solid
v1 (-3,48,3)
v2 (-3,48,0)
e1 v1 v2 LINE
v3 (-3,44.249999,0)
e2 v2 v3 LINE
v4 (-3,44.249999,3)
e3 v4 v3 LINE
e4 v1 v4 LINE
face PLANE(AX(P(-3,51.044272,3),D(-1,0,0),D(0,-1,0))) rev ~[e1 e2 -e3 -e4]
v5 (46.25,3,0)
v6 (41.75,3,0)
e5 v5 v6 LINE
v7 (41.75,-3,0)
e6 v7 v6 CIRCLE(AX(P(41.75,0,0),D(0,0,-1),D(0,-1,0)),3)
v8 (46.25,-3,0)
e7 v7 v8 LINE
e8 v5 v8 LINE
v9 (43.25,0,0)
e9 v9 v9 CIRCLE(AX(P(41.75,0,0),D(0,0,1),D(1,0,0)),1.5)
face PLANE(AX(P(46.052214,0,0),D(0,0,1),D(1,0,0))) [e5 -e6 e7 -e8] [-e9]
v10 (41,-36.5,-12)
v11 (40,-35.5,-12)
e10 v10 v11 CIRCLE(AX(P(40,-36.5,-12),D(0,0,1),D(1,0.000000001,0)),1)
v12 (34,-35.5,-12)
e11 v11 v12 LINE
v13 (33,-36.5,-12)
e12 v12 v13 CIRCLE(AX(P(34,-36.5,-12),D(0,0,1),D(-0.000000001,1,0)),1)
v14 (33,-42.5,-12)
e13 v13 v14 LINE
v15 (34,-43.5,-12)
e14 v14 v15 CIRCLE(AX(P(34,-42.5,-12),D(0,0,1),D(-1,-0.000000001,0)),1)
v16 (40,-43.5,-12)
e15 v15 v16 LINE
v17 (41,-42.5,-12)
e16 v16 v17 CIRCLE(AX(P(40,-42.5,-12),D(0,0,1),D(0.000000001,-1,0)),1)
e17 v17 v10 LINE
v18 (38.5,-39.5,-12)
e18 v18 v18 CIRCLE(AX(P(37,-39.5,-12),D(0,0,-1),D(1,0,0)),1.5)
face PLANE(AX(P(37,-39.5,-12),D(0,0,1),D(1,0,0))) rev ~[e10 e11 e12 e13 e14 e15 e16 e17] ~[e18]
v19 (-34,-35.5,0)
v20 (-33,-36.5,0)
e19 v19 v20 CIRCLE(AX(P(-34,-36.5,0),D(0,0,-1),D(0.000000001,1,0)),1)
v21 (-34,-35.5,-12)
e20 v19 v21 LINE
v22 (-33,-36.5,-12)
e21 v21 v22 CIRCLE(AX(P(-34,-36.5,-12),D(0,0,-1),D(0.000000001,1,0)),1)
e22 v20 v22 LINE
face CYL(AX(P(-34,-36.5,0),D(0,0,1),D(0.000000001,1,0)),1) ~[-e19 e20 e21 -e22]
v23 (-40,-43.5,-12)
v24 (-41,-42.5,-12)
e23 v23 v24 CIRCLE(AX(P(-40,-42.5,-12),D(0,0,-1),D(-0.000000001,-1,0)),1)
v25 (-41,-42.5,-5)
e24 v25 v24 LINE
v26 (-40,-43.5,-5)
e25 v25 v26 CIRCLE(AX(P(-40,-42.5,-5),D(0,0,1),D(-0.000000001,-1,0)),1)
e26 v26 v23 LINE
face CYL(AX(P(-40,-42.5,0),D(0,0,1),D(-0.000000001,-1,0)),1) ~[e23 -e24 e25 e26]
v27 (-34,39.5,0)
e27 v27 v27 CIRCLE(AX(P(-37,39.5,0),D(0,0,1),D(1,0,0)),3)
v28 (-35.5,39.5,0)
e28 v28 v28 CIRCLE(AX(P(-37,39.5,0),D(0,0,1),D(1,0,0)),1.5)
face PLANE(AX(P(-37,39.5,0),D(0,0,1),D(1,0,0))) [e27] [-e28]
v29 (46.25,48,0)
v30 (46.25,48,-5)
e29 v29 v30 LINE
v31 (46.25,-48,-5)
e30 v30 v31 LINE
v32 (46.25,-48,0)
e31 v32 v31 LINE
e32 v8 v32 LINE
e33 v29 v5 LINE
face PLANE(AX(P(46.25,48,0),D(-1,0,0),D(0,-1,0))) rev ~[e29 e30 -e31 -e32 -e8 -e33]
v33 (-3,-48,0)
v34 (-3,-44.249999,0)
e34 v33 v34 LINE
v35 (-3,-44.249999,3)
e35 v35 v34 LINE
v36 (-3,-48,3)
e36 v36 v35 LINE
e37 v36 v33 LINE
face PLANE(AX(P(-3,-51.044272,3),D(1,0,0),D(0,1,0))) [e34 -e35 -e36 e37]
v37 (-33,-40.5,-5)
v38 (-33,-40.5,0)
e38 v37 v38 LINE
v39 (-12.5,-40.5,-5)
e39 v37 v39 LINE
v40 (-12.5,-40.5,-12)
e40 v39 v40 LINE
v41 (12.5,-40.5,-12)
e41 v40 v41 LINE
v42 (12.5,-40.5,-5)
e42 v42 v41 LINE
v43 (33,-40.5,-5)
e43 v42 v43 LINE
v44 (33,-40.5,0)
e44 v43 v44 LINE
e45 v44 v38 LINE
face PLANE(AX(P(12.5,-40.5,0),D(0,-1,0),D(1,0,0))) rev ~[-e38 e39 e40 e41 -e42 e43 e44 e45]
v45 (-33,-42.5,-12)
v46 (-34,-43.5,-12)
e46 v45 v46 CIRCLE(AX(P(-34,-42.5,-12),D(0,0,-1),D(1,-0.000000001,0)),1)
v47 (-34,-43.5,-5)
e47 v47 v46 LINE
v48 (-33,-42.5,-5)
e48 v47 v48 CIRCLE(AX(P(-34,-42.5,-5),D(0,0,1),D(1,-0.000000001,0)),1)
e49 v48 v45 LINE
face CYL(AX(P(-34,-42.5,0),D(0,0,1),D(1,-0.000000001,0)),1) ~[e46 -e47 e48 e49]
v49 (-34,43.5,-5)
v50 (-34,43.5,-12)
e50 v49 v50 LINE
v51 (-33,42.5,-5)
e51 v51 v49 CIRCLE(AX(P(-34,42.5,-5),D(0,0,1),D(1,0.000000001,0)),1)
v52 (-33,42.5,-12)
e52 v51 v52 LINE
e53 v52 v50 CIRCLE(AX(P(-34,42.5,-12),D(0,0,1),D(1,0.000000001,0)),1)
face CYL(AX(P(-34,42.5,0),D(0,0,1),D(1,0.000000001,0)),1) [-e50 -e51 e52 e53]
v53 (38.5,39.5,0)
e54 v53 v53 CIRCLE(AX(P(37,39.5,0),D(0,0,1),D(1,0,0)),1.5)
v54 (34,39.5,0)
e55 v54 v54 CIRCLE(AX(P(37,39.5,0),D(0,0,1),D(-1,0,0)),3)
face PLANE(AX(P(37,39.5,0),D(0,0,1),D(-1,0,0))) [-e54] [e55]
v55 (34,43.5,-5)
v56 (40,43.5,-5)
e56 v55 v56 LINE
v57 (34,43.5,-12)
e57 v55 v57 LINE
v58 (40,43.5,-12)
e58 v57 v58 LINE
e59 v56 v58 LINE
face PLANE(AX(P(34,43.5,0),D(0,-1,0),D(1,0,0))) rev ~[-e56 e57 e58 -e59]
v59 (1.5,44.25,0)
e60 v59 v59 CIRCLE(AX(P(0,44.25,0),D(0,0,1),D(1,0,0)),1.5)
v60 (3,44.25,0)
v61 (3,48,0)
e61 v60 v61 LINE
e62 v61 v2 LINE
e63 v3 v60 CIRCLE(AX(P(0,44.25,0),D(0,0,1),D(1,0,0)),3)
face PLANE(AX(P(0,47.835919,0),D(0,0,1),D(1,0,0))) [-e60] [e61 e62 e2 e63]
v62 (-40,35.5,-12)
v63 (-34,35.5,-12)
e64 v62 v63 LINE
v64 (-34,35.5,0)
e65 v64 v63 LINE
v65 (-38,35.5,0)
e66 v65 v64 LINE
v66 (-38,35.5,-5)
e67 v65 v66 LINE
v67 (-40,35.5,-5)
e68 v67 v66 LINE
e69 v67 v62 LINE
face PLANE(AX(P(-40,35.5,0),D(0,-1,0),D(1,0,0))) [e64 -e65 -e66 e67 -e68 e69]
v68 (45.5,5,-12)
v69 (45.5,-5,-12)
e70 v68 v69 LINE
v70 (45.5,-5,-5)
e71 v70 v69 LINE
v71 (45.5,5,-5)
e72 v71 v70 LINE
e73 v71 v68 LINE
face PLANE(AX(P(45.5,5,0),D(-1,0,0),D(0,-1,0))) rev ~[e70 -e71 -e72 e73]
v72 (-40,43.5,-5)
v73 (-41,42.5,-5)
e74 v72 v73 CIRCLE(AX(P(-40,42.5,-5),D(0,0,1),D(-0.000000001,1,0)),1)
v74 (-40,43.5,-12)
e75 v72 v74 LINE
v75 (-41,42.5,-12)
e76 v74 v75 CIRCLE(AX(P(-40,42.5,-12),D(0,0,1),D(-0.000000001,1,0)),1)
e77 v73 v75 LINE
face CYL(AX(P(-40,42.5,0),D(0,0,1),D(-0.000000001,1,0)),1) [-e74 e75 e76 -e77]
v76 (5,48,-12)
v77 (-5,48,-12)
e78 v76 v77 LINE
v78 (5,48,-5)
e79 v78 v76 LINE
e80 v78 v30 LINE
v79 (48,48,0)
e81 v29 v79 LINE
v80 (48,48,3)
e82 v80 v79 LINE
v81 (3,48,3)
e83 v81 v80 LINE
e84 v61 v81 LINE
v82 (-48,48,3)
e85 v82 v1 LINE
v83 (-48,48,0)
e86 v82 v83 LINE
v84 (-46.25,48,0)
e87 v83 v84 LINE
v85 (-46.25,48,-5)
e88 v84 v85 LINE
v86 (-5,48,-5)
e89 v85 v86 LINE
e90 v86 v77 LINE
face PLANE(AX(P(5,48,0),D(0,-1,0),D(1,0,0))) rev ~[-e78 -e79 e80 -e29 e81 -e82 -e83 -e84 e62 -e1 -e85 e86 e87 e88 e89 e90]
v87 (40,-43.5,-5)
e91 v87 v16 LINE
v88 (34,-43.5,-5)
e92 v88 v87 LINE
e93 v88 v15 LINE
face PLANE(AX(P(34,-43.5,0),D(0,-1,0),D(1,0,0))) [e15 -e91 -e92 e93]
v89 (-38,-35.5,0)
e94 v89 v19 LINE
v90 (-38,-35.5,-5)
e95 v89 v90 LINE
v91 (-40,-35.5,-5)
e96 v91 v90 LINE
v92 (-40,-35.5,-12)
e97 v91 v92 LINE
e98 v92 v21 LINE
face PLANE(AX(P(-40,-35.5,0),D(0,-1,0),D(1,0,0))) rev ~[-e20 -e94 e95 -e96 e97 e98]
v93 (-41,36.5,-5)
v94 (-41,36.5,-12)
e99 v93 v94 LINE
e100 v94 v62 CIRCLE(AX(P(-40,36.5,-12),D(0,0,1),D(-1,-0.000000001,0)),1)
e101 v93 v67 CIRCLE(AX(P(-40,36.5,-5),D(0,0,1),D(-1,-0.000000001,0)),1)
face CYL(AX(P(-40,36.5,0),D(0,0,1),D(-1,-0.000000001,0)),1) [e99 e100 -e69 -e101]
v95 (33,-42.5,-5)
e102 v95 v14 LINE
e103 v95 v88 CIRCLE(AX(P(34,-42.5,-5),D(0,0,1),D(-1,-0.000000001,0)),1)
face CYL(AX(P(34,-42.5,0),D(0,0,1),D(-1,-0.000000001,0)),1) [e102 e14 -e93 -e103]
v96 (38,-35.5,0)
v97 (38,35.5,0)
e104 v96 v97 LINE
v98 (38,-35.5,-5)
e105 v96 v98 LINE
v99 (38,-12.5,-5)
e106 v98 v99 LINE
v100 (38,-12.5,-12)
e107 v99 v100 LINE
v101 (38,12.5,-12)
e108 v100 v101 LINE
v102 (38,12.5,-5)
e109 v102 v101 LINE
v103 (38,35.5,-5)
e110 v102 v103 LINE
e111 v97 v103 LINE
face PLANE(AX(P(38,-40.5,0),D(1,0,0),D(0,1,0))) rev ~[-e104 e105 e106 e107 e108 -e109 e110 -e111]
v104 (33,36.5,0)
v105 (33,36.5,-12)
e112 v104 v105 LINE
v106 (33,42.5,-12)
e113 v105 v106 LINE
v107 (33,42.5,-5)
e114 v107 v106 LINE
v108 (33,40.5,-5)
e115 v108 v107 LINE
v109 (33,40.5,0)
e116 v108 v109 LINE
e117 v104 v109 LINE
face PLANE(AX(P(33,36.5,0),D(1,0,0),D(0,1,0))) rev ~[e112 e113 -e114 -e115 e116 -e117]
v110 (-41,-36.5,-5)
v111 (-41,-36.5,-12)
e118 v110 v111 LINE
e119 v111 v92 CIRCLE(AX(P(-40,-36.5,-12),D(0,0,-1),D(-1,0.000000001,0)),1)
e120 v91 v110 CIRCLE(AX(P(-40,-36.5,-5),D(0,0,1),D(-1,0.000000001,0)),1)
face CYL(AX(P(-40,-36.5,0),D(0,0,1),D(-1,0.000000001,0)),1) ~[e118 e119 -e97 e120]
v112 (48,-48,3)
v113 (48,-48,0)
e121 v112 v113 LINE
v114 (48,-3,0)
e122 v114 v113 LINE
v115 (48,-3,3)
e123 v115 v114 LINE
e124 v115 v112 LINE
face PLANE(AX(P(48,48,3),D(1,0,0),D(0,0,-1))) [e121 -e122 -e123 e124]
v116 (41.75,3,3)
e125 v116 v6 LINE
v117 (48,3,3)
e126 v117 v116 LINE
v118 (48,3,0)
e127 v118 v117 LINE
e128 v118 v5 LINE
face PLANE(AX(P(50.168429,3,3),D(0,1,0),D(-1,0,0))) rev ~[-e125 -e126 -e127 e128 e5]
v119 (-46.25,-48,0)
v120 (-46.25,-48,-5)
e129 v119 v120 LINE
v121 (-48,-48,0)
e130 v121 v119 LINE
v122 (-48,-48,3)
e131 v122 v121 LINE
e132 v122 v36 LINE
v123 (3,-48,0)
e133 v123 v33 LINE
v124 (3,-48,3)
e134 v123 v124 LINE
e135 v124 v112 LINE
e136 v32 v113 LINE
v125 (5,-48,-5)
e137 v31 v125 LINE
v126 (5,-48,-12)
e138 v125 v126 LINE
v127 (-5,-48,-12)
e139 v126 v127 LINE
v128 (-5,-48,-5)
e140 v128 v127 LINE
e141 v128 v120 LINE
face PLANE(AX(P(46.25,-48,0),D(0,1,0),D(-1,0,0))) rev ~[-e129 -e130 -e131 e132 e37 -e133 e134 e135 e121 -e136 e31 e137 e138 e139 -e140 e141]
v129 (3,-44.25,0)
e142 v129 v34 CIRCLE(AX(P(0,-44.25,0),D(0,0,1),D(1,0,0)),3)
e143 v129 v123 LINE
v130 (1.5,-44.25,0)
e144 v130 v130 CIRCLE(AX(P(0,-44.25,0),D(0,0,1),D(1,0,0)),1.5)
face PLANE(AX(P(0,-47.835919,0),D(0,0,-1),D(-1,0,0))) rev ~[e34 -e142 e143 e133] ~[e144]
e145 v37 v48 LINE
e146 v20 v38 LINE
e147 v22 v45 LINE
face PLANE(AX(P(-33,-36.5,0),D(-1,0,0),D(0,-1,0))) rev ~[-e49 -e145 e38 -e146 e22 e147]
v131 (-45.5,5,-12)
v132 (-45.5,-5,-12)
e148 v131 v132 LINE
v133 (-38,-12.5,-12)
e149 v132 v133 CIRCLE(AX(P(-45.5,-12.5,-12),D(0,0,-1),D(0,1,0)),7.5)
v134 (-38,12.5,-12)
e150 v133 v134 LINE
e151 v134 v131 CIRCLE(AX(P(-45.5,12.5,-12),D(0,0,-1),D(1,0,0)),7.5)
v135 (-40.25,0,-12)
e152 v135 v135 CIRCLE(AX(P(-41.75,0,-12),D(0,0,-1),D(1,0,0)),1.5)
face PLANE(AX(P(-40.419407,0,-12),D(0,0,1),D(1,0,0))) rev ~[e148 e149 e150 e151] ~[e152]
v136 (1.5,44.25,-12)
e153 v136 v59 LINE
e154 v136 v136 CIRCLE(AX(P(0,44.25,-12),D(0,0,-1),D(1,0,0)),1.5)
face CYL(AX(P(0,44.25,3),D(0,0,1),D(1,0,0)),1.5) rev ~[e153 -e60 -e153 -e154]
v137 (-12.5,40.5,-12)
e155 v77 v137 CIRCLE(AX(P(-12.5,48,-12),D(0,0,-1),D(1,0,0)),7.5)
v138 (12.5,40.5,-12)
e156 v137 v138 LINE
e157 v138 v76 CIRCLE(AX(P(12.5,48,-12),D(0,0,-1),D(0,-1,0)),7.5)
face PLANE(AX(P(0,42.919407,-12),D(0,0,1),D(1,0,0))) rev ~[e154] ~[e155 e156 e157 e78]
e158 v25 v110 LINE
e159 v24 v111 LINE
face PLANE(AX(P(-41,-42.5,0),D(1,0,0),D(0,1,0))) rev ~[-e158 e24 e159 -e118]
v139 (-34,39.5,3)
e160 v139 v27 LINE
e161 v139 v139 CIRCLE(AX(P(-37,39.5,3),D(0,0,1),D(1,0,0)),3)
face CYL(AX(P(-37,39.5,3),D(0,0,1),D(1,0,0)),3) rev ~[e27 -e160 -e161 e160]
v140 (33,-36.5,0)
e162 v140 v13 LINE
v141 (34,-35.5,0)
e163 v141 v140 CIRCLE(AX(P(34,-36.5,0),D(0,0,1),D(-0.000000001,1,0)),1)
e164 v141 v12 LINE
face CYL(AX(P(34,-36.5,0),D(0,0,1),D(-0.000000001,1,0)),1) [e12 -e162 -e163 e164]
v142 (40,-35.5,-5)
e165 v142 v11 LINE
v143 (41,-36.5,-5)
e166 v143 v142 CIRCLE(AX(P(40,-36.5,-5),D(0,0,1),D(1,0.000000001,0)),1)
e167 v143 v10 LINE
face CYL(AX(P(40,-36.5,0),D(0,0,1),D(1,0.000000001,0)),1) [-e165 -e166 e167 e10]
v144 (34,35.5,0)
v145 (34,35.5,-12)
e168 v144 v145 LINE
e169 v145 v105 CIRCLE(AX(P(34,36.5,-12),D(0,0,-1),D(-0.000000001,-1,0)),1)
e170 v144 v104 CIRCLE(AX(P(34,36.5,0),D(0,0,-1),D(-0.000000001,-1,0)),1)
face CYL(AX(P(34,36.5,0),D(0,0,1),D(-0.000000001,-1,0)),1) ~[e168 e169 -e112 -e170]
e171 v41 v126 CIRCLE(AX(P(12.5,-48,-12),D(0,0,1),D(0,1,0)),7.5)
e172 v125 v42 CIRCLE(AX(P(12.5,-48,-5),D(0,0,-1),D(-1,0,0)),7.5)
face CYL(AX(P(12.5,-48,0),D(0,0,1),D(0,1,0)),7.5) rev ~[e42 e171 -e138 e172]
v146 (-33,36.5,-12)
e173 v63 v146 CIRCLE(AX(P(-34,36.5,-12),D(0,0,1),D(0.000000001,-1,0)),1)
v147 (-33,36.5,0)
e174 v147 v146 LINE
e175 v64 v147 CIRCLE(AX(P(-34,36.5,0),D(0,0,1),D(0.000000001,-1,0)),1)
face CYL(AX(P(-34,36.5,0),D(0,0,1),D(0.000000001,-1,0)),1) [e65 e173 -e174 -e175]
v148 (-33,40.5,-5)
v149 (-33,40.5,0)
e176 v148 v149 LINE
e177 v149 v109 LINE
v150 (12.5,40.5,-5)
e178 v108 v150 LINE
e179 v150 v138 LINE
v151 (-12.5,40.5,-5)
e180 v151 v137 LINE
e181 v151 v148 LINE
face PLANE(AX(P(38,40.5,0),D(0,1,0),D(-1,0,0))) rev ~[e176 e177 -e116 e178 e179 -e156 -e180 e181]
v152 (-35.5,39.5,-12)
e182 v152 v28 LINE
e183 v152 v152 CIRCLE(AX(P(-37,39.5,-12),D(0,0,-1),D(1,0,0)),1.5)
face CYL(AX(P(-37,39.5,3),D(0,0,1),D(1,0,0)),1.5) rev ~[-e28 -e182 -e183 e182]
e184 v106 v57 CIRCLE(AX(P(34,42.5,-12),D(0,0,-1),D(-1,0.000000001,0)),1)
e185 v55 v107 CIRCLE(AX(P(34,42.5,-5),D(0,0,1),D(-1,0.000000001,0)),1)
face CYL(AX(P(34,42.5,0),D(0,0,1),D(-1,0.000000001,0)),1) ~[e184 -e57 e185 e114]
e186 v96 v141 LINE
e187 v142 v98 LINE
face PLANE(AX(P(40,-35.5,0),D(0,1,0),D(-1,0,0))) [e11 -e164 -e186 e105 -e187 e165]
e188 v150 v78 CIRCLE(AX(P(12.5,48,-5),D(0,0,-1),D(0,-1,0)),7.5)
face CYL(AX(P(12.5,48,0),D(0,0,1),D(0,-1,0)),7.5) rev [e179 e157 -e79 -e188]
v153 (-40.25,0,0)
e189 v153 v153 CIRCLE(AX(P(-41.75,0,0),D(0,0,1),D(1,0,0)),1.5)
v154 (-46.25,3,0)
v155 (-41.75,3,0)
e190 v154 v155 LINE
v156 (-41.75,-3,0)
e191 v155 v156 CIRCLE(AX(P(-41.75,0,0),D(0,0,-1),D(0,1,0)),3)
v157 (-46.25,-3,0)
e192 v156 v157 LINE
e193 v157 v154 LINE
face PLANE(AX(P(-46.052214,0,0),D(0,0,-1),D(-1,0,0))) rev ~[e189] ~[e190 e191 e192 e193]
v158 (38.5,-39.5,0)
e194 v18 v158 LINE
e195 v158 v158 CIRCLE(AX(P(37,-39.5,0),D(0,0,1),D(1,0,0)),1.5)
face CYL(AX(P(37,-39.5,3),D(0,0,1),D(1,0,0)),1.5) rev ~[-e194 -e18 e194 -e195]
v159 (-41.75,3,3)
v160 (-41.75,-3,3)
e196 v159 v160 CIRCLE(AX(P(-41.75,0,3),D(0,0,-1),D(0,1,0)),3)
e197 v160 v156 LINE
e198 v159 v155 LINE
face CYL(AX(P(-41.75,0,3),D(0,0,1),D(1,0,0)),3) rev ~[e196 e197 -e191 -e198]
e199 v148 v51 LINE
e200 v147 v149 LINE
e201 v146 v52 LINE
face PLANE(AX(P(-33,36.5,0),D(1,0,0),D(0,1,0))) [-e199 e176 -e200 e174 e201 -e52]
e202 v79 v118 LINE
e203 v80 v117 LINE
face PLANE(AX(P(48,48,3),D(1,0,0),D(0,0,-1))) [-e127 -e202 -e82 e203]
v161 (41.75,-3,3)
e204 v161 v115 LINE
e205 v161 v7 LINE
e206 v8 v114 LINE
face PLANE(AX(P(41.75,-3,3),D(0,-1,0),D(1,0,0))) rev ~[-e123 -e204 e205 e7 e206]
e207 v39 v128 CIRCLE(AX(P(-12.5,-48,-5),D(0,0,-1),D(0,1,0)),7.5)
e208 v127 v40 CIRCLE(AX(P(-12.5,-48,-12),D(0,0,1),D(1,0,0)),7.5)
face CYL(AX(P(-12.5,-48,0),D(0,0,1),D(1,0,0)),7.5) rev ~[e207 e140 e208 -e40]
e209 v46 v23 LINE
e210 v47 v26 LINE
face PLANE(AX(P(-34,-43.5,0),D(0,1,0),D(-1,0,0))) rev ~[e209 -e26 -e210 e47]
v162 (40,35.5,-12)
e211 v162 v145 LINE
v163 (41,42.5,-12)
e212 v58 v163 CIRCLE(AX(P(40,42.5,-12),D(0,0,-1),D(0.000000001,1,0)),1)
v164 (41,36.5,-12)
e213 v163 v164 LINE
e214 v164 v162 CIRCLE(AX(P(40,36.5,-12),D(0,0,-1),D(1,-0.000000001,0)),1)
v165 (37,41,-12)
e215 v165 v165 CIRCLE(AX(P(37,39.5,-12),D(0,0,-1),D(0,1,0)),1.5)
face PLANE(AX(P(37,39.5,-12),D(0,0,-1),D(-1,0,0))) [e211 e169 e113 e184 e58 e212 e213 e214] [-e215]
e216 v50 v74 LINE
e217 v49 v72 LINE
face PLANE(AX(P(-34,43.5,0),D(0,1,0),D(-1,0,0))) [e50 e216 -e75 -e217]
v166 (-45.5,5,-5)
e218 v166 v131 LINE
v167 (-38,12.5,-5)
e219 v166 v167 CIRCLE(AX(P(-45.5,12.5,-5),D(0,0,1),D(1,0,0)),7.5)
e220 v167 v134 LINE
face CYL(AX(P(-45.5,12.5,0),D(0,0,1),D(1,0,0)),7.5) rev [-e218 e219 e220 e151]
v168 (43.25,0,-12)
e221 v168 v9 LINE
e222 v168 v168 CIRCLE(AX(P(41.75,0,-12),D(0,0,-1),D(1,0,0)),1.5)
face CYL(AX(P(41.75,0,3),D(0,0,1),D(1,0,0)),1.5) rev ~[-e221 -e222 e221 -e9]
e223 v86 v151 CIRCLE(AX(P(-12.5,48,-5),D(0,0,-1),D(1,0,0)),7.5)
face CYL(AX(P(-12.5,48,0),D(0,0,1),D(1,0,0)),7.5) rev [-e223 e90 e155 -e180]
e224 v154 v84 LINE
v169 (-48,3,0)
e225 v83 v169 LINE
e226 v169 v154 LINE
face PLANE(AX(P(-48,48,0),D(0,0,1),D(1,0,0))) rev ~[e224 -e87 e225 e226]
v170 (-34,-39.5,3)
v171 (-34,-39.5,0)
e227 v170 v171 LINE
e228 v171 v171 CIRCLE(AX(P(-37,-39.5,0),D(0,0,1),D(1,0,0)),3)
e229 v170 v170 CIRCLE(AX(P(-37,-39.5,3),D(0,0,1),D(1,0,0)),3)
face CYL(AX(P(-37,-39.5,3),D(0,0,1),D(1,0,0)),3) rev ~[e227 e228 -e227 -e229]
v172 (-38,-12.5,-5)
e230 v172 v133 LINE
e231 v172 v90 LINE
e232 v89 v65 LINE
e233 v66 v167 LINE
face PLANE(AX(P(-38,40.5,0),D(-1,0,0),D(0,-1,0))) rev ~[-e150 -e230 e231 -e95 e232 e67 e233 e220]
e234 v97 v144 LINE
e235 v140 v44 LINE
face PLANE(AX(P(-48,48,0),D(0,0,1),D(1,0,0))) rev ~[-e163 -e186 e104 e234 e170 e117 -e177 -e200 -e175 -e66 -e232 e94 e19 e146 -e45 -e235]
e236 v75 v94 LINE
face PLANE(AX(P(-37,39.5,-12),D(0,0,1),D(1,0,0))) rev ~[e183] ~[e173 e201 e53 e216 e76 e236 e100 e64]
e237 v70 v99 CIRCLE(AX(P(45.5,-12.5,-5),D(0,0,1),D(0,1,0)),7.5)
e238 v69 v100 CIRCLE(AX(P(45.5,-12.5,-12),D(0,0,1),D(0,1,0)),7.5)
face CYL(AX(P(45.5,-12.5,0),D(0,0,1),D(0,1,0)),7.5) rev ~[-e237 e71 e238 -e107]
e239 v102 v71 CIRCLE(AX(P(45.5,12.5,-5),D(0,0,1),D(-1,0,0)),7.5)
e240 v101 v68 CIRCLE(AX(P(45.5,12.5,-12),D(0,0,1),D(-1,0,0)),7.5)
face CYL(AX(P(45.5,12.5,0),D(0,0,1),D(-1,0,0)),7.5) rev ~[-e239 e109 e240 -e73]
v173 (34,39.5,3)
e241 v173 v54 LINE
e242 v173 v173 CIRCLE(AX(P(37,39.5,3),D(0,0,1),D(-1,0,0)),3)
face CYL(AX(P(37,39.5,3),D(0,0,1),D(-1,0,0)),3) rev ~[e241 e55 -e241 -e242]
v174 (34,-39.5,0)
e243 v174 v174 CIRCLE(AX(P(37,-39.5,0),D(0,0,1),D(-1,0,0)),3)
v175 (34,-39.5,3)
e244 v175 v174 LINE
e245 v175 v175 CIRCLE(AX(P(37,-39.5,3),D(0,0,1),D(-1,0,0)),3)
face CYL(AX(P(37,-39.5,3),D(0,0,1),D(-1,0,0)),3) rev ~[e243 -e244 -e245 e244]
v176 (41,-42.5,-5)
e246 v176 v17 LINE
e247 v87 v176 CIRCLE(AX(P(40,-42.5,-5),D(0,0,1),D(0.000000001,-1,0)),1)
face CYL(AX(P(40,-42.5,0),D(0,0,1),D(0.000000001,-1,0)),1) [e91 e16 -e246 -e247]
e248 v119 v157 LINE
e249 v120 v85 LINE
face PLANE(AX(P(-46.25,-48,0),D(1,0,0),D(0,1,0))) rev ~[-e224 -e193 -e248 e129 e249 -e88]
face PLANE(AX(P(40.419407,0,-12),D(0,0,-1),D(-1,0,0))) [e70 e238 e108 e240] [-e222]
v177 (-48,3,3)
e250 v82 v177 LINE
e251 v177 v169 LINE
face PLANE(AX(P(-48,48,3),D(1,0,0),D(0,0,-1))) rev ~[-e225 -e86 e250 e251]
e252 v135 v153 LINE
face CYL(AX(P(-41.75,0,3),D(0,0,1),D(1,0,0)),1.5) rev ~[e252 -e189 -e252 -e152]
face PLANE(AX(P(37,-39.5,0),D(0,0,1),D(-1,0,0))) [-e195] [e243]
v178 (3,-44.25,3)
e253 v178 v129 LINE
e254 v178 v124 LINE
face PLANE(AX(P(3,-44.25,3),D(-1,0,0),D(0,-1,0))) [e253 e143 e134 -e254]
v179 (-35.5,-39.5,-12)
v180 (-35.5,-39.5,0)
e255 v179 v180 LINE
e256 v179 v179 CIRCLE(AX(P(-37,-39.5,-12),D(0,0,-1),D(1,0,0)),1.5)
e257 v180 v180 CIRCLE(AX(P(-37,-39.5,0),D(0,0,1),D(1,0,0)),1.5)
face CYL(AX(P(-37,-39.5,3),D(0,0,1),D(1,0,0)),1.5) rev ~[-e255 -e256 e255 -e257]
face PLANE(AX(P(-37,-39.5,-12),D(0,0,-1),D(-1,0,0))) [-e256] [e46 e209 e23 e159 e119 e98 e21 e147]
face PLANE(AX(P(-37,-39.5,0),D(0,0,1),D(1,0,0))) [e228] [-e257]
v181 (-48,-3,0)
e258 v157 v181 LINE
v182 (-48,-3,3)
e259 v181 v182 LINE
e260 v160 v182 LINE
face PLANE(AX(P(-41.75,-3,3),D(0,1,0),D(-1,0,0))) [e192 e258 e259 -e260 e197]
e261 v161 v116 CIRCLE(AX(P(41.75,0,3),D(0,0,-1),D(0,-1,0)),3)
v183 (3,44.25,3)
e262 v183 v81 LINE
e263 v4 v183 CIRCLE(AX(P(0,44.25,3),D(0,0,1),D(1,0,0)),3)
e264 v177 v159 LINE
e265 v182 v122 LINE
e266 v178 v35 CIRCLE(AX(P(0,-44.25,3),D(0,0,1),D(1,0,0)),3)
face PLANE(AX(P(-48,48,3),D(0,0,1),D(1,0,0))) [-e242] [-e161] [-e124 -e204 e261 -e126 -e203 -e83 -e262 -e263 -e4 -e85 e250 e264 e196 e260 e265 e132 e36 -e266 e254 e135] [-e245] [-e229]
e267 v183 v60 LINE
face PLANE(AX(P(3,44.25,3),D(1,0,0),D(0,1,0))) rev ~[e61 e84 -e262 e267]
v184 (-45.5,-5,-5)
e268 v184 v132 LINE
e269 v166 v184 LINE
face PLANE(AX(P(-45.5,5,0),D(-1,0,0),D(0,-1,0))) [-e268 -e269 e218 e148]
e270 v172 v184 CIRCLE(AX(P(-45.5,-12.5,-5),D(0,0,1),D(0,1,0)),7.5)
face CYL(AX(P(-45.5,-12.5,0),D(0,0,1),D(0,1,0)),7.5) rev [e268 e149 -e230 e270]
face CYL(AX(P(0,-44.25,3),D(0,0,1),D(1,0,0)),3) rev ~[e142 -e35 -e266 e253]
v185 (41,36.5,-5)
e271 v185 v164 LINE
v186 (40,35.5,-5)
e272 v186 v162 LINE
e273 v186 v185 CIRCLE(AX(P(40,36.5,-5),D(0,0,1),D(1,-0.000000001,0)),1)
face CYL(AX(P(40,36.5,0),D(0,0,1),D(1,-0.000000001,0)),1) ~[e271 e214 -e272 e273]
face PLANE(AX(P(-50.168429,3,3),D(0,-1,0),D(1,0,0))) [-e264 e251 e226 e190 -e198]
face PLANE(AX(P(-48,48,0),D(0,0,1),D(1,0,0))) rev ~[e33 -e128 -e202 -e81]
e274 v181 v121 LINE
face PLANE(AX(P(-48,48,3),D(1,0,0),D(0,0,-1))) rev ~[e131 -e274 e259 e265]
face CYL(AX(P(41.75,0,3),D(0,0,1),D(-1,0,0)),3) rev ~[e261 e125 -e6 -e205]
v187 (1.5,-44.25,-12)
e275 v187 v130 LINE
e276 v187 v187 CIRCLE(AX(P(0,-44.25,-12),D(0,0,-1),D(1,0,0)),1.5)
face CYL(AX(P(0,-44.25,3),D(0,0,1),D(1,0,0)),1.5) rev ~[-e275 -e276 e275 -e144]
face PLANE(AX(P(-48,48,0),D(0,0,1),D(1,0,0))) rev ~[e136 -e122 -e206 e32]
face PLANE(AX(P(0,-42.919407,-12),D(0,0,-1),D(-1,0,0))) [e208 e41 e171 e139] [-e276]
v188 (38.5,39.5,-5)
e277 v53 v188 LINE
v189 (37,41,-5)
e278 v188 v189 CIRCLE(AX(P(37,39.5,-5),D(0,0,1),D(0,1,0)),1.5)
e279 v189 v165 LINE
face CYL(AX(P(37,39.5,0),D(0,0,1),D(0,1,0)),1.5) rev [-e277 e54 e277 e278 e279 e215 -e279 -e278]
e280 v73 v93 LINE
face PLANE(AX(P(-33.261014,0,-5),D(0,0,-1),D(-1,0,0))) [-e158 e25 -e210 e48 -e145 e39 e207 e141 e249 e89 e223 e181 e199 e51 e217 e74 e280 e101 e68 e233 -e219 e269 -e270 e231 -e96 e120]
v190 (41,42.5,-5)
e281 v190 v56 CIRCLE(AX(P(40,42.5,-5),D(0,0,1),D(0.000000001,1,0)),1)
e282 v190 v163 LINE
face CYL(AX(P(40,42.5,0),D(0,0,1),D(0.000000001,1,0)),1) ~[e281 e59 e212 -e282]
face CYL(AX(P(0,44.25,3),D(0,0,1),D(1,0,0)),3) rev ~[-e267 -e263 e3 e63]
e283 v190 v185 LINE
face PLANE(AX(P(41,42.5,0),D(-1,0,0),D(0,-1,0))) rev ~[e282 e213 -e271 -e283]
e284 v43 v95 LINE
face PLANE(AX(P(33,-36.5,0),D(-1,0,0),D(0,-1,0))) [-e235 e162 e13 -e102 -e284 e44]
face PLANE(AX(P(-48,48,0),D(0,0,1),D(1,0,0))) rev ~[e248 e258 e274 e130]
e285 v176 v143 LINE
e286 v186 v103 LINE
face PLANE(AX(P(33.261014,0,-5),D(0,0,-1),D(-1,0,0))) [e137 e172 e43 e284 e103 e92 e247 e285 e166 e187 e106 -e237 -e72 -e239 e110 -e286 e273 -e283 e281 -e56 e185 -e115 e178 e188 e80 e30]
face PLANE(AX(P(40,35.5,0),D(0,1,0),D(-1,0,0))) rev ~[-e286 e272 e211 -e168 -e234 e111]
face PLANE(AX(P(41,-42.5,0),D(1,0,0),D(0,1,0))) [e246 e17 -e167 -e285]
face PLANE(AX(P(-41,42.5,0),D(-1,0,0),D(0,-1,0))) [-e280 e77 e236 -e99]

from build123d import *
from build123d.topology import SkipClean

# Parameters (mm, degrees)
SKETCH3_W           = 96
SKETCH3_H           = 3
BOSS_EXTRUDE1_DEPTH = 96
SKETCH4_R           = 1.5
BOSS_EXTRUDE2_DEPTH = 12
SKETCH5_R           = 1.5
BOSS_EXTRUDE3_DEPTH = 12
BOSS_EXTRUDE4_DEPTH = 5
SKETCH10_R          = 1.5
CUT_EXTRUDE1_DEPTH  = 70.519781358
SKETCH11_R          = 3
CUT_EXTRUDE2_DEPTH  = 3
CUT_EXTRUDE3_DEPTH  = 3


with BuildPart() as part:
    # Sketch3 → Boss-Extrude1 (new body)
    with BuildSketch(Plane(origin=(0, 48, 0), x_dir=(1, 0, 0), z_dir=(0, 1, 0))):
        with Locations((0, -1.5)):
            Rectangle(SKETCH3_W, SKETCH3_H)
    extrude(amount=-BOSS_EXTRUDE1_DEPTH)

    # Sketch4 → Boss-Extrude2 (add)
    # profile 1 of 4: a face of its own
    with BuildSketch(Plane(origin=(0, 0, 0), x_dir=(-1, 0, 0), z_dir=(0, 0, -1))):
        with BuildLine():
            Line((38, -12.5), (38, 12.5))
            ThreePointArc((38, 12.5), (40.196699141, 7.196699141), (45.5, 5))
            Line((45.5, 5), (45.5, -5))
            ThreePointArc((45.5, -5), (40.196699141, -7.196699141), (38, -12.5))
        make_face()
        with Locations(Location((41.75, 0, 0), (0, 0, 180))):
            Circle(SKETCH4_R, mode=Mode.SUBTRACT)
    # profile 2 of 4: a face of its own
    with BuildSketch(Plane(origin=(0, 0, 0), x_dir=(-1, 0, 0), z_dir=(0, 0, -1))):
        with BuildLine():
            Line((12.5, 40.5), (-12.5, 40.5))
            ThreePointArc((-12.5, 40.5), (-7.196699141, 42.696699141), (-5, 48))
            Line((-5, 48), (5, 48))
            ThreePointArc((5, 48), (7.196699141, 42.696699141), (12.5, 40.5))
        make_face()
        with Locations(Location((0, 44.25, 0), (0, 0, 180))):
            Circle(SKETCH4_R, mode=Mode.SUBTRACT)
    # profile 3 of 4: a face of its own
    with BuildSketch(Plane(origin=(0, 0, 0), x_dir=(-1, 0, 0), z_dir=(0, 0, -1))):
        with BuildLine():
            Line((-5, -48), (5, -48))
            ThreePointArc((5, -48), (7.196699141, -42.696699141), (12.5, -40.5))
            Line((12.5, -40.5), (-12.5, -40.5))
            ThreePointArc((-12.5, -40.5), (-7.196699141, -42.696699141), (-5, -48))
        make_face()
        with Locations(Location((0, -44.25, 0), (0, 0, 180))):
            Circle(SKETCH4_R, mode=Mode.SUBTRACT)
    # profile 4 of 4: a face of its own
    with BuildSketch(Plane(origin=(0, 0, 0), x_dir=(-1, 0, 0), z_dir=(0, 0, -1))):
        with BuildLine():
            Line((-45.5, 5), (-45.5, -5))
            ThreePointArc((-45.5, -5), (-40.196699141, -7.196699141), (-38, -12.5))
            Line((-38, -12.5), (-38, 12.5))
            ThreePointArc((-38, 12.5), (-40.196699141, 7.196699141), (-45.5, 5))
        make_face()
        with Locations(Location((-41.75, 0, 0), (0, 0, 180))):
            Circle(SKETCH4_R, mode=Mode.SUBTRACT)
    extrude(amount=BOSS_EXTRUDE2_DEPTH)

    # Sketch5 → Boss-Extrude3 (add)
    # profile 1 of 4: a face of its own
    with BuildSketch(Plane(origin=(0, 0, 0), x_dir=(-1, 0, 0), z_dir=(0, 0, -1))):
        with BuildLine():
            Line((-40, 35.5), (-34, 35.5))
            ThreePointArc((-34, 35.5), (-33.292893219, 35.792893219), (-33, 36.5))
            Line((-33, 36.5), (-33, 42.5))
            ThreePointArc((-33, 42.5), (-33.292893219, 43.207106781), (-34, 43.5))
            Line((-34, 43.5), (-40, 43.5))
            ThreePointArc((-40, 43.5), (-40.707106781, 43.207106781), (-41, 42.5))
            Line((-41, 42.5), (-41, 36.5))
            ThreePointArc((-41, 36.5), (-40.707106781, 35.792893219), (-40, 35.5))
        make_face()
        with Locations(Location((-37, 39.5, 0), (0, 0, 90))):
            Circle(SKETCH5_R, mode=Mode.SUBTRACT)
    # profile 2 of 4: a face of its own
    with BuildSketch(Plane(origin=(0, 0, 0), x_dir=(-1, 0, 0), z_dir=(0, 0, -1))):
        with BuildLine():
            Line((33, 36.5), (33, 42.5))
            ThreePointArc((33, 42.5), (33.292893219, 43.207106781), (34, 43.5))
            Line((34, 43.5), (40, 43.5))
            ThreePointArc((40, 43.5), (40.707106781, 43.207106781), (41, 42.5))
            Line((41, 42.5), (41, 36.5))
            ThreePointArc((41, 36.5), (40.707106781, 35.792893219), (40, 35.5))
            Line((40, 35.5), (34, 35.5))
            ThreePointArc((34, 35.5), (33.292893219, 35.792893219), (33, 36.5))
        make_face()
        with Locations(Location((37, 39.5, 0), (0, 0, 90))):
            Circle(SKETCH5_R, mode=Mode.SUBTRACT)
    # profile 3 of 4: a face of its own
    with BuildSketch(Plane(origin=(0, 0, 0), x_dir=(-1, 0, 0), z_dir=(0, 0, -1))):
        with BuildLine():
            Line((-33, -36.5), (-33, -42.5))
            ThreePointArc((-33, -42.5), (-33.292893219, -43.207106781), (-34, -43.5))
            Line((-34, -43.5), (-40, -43.5))
            ThreePointArc((-40, -43.5), (-40.707106781, -43.207106781), (-41, -42.5))
            Line((-41, -42.5), (-41, -36.5))
            ThreePointArc((-41, -36.5), (-40.707106781, -35.792893219), (-40, -35.5))
            Line((-40, -35.5), (-34, -35.5))
            ThreePointArc((-34, -35.5), (-33.292893219, -35.792893219), (-33, -36.5))
        make_face()
        with Locations(Location((-37, -39.5, 0), (0, 0, 90))):
            Circle(SKETCH5_R, mode=Mode.SUBTRACT)
    # profile 4 of 4: a face of its own
    with BuildSketch(Plane(origin=(0, 0, 0), x_dir=(-1, 0, 0), z_dir=(0, 0, -1))):
        with BuildLine():
            Line((40, -35.5), (34, -35.5))
            ThreePointArc((34, -35.5), (33.292893219, -35.792893219), (33, -36.5))
            Line((33, -36.5), (33, -42.5))
            ThreePointArc((33, -42.5), (33.292893219, -43.207106781), (34, -43.5))
            Line((34, -43.5), (40, -43.5))
            ThreePointArc((40, -43.5), (40.707106781, -43.207106781), (41, -42.5))
            Line((41, -42.5), (41, -36.5))
            ThreePointArc((41, -36.5), (40.707106781, -35.792893219), (40, -35.5))
        make_face()
        with Locations(Location((37, -39.5, 0), (0, 0, 90))):
            Circle(SKETCH5_R, mode=Mode.SUBTRACT)
    extrude(amount=BOSS_EXTRUDE3_DEPTH)

    # Sketch8 → Boss-Extrude4 (add)
    with BuildSketch(Plane(origin=(0, 0, 0), x_dir=(-1, 0, 0), z_dir=(0, 0, -1))):
        with BuildLine():
            Line((-38, 40.5), (-12.5, 40.5))
            ThreePointArc((-12.5, 40.5), (-7.196699141, 42.696699141), (-5, 48))
            Line((-5, 48), (-46.25, 48))
            Line((-46.25, 48), (-46.25, -48))
            Line((-46.25, -48), (-5, -48))
            ThreePointArc((-5, -48), (-7.196699141, -42.696699141), (-12.5, -40.5))
            Line((-12.5, -40.5), (-38, -40.5))
            Line((-38, -40.5), (-38, 40.5))
        make_face()
        with BuildLine():
            Line((12.5, 40.5), (38, 40.5))
            Line((38, 40.5), (38, -40.5))
            Line((38, -40.5), (12.5, -40.5))
            ThreePointArc((12.5, -40.5), (7.196699141, -42.696699141), (5, -48))
            Line((5, -48), (46.25, -48))
            Line((46.25, -48), (46.25, 48))
            Line((46.25, 48), (5, 48))
            ThreePointArc((5, 48), (7.196699141, 42.696699141), (12.5, 40.5))
        make_face()
    extrude(amount=BOSS_EXTRUDE4_DEPTH)

    # Sketch10 → Cut-Extrude1 (cut, through all)
    with BuildSketch(Plane.XY.offset(3)):
        with Locations((37, -39.5)):
            Circle(SKETCH10_R)
        with Locations((0, -44.25)):
            Circle(SKETCH10_R)
        with Locations((-37, -39.5)):
            Circle(SKETCH10_R)
        with Locations((-41.75, 0)):
            Circle(SKETCH10_R)
        with Locations((-37, 39.5)):
            Circle(SKETCH10_R)
        with Locations((0, 44.25)):
            Circle(SKETCH10_R)
        with Locations((37, 39.5)):
            Circle(SKETCH10_R)
        with Locations((41.75, 0)):
            Circle(SKETCH10_R)
    extrude(amount=-CUT_EXTRUDE1_DEPTH, mode=Mode.SUBTRACT)

    # Sketch11 → Cut-Extrude2 (cut)
    with SkipClean():  # the faces are left unmerged after this step: merging them gives an invalid solid
        with BuildSketch(Plane.XY.offset(3)):
            with Locations((0, -44.25)):
                Circle(SKETCH11_R)
            with Locations((-37, -39.5)):
                Circle(SKETCH11_R)
            with Locations((-41.75, 0)):
                Circle(SKETCH11_R)
            with Locations((-37, 39.5)):
                Circle(SKETCH11_R)
            with Locations((0, 44.25)):
                Circle(SKETCH11_R)
            with Locations(Location((37, -39.5, 0), (0, 0, 180))):
                Circle(SKETCH11_R)
            with Locations(Location((41.75, 0, 0), (0, 0, 180))):
                Circle(SKETCH11_R)
            with Locations(Location((37, 39.5, 0), (0, 0, 180))):
                Circle(SKETCH11_R)
        extrude(amount=-CUT_EXTRUDE2_DEPTH, mode=Mode.SUBTRACT)

    # Sketch12 → Cut-Extrude3 (cut)
    with BuildSketch(Plane.XY.offset(3)):
        with BuildLine():
            Line((3, -44.25), (3, -51.044271795))
            Line((3, -51.044271795), (-3, -51.044271795))
            Line((-3, -51.044271795), (-3, -44.24999935))
            ThreePointArc((-3, -44.24999935), (-3.25e-07, -47.25), (3, -44.25))
        make_face()
        with BuildLine():
            Line((3, 44.25), (3, 51.044271795))
            Line((3, 51.044271795), (-3, 51.044271795))
            Line((-3, 51.044271795), (-3, 44.24999935))
            ThreePointArc((-3, 44.24999935), (-3.25e-07, 47.25), (3, 44.25))
        make_face()
        with BuildLine():
            Line((41.75, -3), (50.168428877, -3))
            Line((50.168428877, -3), (50.168428877, 3))
            Line((50.168428877, 3), (41.75, 3))
            ThreePointArc((41.75, 3), (44.75, 0), (41.75, -3))
        make_face()
        with BuildLine():
            Line((-50.168428877, -3), (-50.168428877, 3))
            Line((-50.168428877, 3), (-41.75, 3))
            ThreePointArc((-41.75, 3), (-44.75, 0), (-41.75, -3))
            Line((-41.75, -3), (-50.168428877, -3))
        make_face()
    extrude(amount=-CUT_EXTRUDE3_DEPTH, mode=Mode.SUBTRACT)


solid = part.part
